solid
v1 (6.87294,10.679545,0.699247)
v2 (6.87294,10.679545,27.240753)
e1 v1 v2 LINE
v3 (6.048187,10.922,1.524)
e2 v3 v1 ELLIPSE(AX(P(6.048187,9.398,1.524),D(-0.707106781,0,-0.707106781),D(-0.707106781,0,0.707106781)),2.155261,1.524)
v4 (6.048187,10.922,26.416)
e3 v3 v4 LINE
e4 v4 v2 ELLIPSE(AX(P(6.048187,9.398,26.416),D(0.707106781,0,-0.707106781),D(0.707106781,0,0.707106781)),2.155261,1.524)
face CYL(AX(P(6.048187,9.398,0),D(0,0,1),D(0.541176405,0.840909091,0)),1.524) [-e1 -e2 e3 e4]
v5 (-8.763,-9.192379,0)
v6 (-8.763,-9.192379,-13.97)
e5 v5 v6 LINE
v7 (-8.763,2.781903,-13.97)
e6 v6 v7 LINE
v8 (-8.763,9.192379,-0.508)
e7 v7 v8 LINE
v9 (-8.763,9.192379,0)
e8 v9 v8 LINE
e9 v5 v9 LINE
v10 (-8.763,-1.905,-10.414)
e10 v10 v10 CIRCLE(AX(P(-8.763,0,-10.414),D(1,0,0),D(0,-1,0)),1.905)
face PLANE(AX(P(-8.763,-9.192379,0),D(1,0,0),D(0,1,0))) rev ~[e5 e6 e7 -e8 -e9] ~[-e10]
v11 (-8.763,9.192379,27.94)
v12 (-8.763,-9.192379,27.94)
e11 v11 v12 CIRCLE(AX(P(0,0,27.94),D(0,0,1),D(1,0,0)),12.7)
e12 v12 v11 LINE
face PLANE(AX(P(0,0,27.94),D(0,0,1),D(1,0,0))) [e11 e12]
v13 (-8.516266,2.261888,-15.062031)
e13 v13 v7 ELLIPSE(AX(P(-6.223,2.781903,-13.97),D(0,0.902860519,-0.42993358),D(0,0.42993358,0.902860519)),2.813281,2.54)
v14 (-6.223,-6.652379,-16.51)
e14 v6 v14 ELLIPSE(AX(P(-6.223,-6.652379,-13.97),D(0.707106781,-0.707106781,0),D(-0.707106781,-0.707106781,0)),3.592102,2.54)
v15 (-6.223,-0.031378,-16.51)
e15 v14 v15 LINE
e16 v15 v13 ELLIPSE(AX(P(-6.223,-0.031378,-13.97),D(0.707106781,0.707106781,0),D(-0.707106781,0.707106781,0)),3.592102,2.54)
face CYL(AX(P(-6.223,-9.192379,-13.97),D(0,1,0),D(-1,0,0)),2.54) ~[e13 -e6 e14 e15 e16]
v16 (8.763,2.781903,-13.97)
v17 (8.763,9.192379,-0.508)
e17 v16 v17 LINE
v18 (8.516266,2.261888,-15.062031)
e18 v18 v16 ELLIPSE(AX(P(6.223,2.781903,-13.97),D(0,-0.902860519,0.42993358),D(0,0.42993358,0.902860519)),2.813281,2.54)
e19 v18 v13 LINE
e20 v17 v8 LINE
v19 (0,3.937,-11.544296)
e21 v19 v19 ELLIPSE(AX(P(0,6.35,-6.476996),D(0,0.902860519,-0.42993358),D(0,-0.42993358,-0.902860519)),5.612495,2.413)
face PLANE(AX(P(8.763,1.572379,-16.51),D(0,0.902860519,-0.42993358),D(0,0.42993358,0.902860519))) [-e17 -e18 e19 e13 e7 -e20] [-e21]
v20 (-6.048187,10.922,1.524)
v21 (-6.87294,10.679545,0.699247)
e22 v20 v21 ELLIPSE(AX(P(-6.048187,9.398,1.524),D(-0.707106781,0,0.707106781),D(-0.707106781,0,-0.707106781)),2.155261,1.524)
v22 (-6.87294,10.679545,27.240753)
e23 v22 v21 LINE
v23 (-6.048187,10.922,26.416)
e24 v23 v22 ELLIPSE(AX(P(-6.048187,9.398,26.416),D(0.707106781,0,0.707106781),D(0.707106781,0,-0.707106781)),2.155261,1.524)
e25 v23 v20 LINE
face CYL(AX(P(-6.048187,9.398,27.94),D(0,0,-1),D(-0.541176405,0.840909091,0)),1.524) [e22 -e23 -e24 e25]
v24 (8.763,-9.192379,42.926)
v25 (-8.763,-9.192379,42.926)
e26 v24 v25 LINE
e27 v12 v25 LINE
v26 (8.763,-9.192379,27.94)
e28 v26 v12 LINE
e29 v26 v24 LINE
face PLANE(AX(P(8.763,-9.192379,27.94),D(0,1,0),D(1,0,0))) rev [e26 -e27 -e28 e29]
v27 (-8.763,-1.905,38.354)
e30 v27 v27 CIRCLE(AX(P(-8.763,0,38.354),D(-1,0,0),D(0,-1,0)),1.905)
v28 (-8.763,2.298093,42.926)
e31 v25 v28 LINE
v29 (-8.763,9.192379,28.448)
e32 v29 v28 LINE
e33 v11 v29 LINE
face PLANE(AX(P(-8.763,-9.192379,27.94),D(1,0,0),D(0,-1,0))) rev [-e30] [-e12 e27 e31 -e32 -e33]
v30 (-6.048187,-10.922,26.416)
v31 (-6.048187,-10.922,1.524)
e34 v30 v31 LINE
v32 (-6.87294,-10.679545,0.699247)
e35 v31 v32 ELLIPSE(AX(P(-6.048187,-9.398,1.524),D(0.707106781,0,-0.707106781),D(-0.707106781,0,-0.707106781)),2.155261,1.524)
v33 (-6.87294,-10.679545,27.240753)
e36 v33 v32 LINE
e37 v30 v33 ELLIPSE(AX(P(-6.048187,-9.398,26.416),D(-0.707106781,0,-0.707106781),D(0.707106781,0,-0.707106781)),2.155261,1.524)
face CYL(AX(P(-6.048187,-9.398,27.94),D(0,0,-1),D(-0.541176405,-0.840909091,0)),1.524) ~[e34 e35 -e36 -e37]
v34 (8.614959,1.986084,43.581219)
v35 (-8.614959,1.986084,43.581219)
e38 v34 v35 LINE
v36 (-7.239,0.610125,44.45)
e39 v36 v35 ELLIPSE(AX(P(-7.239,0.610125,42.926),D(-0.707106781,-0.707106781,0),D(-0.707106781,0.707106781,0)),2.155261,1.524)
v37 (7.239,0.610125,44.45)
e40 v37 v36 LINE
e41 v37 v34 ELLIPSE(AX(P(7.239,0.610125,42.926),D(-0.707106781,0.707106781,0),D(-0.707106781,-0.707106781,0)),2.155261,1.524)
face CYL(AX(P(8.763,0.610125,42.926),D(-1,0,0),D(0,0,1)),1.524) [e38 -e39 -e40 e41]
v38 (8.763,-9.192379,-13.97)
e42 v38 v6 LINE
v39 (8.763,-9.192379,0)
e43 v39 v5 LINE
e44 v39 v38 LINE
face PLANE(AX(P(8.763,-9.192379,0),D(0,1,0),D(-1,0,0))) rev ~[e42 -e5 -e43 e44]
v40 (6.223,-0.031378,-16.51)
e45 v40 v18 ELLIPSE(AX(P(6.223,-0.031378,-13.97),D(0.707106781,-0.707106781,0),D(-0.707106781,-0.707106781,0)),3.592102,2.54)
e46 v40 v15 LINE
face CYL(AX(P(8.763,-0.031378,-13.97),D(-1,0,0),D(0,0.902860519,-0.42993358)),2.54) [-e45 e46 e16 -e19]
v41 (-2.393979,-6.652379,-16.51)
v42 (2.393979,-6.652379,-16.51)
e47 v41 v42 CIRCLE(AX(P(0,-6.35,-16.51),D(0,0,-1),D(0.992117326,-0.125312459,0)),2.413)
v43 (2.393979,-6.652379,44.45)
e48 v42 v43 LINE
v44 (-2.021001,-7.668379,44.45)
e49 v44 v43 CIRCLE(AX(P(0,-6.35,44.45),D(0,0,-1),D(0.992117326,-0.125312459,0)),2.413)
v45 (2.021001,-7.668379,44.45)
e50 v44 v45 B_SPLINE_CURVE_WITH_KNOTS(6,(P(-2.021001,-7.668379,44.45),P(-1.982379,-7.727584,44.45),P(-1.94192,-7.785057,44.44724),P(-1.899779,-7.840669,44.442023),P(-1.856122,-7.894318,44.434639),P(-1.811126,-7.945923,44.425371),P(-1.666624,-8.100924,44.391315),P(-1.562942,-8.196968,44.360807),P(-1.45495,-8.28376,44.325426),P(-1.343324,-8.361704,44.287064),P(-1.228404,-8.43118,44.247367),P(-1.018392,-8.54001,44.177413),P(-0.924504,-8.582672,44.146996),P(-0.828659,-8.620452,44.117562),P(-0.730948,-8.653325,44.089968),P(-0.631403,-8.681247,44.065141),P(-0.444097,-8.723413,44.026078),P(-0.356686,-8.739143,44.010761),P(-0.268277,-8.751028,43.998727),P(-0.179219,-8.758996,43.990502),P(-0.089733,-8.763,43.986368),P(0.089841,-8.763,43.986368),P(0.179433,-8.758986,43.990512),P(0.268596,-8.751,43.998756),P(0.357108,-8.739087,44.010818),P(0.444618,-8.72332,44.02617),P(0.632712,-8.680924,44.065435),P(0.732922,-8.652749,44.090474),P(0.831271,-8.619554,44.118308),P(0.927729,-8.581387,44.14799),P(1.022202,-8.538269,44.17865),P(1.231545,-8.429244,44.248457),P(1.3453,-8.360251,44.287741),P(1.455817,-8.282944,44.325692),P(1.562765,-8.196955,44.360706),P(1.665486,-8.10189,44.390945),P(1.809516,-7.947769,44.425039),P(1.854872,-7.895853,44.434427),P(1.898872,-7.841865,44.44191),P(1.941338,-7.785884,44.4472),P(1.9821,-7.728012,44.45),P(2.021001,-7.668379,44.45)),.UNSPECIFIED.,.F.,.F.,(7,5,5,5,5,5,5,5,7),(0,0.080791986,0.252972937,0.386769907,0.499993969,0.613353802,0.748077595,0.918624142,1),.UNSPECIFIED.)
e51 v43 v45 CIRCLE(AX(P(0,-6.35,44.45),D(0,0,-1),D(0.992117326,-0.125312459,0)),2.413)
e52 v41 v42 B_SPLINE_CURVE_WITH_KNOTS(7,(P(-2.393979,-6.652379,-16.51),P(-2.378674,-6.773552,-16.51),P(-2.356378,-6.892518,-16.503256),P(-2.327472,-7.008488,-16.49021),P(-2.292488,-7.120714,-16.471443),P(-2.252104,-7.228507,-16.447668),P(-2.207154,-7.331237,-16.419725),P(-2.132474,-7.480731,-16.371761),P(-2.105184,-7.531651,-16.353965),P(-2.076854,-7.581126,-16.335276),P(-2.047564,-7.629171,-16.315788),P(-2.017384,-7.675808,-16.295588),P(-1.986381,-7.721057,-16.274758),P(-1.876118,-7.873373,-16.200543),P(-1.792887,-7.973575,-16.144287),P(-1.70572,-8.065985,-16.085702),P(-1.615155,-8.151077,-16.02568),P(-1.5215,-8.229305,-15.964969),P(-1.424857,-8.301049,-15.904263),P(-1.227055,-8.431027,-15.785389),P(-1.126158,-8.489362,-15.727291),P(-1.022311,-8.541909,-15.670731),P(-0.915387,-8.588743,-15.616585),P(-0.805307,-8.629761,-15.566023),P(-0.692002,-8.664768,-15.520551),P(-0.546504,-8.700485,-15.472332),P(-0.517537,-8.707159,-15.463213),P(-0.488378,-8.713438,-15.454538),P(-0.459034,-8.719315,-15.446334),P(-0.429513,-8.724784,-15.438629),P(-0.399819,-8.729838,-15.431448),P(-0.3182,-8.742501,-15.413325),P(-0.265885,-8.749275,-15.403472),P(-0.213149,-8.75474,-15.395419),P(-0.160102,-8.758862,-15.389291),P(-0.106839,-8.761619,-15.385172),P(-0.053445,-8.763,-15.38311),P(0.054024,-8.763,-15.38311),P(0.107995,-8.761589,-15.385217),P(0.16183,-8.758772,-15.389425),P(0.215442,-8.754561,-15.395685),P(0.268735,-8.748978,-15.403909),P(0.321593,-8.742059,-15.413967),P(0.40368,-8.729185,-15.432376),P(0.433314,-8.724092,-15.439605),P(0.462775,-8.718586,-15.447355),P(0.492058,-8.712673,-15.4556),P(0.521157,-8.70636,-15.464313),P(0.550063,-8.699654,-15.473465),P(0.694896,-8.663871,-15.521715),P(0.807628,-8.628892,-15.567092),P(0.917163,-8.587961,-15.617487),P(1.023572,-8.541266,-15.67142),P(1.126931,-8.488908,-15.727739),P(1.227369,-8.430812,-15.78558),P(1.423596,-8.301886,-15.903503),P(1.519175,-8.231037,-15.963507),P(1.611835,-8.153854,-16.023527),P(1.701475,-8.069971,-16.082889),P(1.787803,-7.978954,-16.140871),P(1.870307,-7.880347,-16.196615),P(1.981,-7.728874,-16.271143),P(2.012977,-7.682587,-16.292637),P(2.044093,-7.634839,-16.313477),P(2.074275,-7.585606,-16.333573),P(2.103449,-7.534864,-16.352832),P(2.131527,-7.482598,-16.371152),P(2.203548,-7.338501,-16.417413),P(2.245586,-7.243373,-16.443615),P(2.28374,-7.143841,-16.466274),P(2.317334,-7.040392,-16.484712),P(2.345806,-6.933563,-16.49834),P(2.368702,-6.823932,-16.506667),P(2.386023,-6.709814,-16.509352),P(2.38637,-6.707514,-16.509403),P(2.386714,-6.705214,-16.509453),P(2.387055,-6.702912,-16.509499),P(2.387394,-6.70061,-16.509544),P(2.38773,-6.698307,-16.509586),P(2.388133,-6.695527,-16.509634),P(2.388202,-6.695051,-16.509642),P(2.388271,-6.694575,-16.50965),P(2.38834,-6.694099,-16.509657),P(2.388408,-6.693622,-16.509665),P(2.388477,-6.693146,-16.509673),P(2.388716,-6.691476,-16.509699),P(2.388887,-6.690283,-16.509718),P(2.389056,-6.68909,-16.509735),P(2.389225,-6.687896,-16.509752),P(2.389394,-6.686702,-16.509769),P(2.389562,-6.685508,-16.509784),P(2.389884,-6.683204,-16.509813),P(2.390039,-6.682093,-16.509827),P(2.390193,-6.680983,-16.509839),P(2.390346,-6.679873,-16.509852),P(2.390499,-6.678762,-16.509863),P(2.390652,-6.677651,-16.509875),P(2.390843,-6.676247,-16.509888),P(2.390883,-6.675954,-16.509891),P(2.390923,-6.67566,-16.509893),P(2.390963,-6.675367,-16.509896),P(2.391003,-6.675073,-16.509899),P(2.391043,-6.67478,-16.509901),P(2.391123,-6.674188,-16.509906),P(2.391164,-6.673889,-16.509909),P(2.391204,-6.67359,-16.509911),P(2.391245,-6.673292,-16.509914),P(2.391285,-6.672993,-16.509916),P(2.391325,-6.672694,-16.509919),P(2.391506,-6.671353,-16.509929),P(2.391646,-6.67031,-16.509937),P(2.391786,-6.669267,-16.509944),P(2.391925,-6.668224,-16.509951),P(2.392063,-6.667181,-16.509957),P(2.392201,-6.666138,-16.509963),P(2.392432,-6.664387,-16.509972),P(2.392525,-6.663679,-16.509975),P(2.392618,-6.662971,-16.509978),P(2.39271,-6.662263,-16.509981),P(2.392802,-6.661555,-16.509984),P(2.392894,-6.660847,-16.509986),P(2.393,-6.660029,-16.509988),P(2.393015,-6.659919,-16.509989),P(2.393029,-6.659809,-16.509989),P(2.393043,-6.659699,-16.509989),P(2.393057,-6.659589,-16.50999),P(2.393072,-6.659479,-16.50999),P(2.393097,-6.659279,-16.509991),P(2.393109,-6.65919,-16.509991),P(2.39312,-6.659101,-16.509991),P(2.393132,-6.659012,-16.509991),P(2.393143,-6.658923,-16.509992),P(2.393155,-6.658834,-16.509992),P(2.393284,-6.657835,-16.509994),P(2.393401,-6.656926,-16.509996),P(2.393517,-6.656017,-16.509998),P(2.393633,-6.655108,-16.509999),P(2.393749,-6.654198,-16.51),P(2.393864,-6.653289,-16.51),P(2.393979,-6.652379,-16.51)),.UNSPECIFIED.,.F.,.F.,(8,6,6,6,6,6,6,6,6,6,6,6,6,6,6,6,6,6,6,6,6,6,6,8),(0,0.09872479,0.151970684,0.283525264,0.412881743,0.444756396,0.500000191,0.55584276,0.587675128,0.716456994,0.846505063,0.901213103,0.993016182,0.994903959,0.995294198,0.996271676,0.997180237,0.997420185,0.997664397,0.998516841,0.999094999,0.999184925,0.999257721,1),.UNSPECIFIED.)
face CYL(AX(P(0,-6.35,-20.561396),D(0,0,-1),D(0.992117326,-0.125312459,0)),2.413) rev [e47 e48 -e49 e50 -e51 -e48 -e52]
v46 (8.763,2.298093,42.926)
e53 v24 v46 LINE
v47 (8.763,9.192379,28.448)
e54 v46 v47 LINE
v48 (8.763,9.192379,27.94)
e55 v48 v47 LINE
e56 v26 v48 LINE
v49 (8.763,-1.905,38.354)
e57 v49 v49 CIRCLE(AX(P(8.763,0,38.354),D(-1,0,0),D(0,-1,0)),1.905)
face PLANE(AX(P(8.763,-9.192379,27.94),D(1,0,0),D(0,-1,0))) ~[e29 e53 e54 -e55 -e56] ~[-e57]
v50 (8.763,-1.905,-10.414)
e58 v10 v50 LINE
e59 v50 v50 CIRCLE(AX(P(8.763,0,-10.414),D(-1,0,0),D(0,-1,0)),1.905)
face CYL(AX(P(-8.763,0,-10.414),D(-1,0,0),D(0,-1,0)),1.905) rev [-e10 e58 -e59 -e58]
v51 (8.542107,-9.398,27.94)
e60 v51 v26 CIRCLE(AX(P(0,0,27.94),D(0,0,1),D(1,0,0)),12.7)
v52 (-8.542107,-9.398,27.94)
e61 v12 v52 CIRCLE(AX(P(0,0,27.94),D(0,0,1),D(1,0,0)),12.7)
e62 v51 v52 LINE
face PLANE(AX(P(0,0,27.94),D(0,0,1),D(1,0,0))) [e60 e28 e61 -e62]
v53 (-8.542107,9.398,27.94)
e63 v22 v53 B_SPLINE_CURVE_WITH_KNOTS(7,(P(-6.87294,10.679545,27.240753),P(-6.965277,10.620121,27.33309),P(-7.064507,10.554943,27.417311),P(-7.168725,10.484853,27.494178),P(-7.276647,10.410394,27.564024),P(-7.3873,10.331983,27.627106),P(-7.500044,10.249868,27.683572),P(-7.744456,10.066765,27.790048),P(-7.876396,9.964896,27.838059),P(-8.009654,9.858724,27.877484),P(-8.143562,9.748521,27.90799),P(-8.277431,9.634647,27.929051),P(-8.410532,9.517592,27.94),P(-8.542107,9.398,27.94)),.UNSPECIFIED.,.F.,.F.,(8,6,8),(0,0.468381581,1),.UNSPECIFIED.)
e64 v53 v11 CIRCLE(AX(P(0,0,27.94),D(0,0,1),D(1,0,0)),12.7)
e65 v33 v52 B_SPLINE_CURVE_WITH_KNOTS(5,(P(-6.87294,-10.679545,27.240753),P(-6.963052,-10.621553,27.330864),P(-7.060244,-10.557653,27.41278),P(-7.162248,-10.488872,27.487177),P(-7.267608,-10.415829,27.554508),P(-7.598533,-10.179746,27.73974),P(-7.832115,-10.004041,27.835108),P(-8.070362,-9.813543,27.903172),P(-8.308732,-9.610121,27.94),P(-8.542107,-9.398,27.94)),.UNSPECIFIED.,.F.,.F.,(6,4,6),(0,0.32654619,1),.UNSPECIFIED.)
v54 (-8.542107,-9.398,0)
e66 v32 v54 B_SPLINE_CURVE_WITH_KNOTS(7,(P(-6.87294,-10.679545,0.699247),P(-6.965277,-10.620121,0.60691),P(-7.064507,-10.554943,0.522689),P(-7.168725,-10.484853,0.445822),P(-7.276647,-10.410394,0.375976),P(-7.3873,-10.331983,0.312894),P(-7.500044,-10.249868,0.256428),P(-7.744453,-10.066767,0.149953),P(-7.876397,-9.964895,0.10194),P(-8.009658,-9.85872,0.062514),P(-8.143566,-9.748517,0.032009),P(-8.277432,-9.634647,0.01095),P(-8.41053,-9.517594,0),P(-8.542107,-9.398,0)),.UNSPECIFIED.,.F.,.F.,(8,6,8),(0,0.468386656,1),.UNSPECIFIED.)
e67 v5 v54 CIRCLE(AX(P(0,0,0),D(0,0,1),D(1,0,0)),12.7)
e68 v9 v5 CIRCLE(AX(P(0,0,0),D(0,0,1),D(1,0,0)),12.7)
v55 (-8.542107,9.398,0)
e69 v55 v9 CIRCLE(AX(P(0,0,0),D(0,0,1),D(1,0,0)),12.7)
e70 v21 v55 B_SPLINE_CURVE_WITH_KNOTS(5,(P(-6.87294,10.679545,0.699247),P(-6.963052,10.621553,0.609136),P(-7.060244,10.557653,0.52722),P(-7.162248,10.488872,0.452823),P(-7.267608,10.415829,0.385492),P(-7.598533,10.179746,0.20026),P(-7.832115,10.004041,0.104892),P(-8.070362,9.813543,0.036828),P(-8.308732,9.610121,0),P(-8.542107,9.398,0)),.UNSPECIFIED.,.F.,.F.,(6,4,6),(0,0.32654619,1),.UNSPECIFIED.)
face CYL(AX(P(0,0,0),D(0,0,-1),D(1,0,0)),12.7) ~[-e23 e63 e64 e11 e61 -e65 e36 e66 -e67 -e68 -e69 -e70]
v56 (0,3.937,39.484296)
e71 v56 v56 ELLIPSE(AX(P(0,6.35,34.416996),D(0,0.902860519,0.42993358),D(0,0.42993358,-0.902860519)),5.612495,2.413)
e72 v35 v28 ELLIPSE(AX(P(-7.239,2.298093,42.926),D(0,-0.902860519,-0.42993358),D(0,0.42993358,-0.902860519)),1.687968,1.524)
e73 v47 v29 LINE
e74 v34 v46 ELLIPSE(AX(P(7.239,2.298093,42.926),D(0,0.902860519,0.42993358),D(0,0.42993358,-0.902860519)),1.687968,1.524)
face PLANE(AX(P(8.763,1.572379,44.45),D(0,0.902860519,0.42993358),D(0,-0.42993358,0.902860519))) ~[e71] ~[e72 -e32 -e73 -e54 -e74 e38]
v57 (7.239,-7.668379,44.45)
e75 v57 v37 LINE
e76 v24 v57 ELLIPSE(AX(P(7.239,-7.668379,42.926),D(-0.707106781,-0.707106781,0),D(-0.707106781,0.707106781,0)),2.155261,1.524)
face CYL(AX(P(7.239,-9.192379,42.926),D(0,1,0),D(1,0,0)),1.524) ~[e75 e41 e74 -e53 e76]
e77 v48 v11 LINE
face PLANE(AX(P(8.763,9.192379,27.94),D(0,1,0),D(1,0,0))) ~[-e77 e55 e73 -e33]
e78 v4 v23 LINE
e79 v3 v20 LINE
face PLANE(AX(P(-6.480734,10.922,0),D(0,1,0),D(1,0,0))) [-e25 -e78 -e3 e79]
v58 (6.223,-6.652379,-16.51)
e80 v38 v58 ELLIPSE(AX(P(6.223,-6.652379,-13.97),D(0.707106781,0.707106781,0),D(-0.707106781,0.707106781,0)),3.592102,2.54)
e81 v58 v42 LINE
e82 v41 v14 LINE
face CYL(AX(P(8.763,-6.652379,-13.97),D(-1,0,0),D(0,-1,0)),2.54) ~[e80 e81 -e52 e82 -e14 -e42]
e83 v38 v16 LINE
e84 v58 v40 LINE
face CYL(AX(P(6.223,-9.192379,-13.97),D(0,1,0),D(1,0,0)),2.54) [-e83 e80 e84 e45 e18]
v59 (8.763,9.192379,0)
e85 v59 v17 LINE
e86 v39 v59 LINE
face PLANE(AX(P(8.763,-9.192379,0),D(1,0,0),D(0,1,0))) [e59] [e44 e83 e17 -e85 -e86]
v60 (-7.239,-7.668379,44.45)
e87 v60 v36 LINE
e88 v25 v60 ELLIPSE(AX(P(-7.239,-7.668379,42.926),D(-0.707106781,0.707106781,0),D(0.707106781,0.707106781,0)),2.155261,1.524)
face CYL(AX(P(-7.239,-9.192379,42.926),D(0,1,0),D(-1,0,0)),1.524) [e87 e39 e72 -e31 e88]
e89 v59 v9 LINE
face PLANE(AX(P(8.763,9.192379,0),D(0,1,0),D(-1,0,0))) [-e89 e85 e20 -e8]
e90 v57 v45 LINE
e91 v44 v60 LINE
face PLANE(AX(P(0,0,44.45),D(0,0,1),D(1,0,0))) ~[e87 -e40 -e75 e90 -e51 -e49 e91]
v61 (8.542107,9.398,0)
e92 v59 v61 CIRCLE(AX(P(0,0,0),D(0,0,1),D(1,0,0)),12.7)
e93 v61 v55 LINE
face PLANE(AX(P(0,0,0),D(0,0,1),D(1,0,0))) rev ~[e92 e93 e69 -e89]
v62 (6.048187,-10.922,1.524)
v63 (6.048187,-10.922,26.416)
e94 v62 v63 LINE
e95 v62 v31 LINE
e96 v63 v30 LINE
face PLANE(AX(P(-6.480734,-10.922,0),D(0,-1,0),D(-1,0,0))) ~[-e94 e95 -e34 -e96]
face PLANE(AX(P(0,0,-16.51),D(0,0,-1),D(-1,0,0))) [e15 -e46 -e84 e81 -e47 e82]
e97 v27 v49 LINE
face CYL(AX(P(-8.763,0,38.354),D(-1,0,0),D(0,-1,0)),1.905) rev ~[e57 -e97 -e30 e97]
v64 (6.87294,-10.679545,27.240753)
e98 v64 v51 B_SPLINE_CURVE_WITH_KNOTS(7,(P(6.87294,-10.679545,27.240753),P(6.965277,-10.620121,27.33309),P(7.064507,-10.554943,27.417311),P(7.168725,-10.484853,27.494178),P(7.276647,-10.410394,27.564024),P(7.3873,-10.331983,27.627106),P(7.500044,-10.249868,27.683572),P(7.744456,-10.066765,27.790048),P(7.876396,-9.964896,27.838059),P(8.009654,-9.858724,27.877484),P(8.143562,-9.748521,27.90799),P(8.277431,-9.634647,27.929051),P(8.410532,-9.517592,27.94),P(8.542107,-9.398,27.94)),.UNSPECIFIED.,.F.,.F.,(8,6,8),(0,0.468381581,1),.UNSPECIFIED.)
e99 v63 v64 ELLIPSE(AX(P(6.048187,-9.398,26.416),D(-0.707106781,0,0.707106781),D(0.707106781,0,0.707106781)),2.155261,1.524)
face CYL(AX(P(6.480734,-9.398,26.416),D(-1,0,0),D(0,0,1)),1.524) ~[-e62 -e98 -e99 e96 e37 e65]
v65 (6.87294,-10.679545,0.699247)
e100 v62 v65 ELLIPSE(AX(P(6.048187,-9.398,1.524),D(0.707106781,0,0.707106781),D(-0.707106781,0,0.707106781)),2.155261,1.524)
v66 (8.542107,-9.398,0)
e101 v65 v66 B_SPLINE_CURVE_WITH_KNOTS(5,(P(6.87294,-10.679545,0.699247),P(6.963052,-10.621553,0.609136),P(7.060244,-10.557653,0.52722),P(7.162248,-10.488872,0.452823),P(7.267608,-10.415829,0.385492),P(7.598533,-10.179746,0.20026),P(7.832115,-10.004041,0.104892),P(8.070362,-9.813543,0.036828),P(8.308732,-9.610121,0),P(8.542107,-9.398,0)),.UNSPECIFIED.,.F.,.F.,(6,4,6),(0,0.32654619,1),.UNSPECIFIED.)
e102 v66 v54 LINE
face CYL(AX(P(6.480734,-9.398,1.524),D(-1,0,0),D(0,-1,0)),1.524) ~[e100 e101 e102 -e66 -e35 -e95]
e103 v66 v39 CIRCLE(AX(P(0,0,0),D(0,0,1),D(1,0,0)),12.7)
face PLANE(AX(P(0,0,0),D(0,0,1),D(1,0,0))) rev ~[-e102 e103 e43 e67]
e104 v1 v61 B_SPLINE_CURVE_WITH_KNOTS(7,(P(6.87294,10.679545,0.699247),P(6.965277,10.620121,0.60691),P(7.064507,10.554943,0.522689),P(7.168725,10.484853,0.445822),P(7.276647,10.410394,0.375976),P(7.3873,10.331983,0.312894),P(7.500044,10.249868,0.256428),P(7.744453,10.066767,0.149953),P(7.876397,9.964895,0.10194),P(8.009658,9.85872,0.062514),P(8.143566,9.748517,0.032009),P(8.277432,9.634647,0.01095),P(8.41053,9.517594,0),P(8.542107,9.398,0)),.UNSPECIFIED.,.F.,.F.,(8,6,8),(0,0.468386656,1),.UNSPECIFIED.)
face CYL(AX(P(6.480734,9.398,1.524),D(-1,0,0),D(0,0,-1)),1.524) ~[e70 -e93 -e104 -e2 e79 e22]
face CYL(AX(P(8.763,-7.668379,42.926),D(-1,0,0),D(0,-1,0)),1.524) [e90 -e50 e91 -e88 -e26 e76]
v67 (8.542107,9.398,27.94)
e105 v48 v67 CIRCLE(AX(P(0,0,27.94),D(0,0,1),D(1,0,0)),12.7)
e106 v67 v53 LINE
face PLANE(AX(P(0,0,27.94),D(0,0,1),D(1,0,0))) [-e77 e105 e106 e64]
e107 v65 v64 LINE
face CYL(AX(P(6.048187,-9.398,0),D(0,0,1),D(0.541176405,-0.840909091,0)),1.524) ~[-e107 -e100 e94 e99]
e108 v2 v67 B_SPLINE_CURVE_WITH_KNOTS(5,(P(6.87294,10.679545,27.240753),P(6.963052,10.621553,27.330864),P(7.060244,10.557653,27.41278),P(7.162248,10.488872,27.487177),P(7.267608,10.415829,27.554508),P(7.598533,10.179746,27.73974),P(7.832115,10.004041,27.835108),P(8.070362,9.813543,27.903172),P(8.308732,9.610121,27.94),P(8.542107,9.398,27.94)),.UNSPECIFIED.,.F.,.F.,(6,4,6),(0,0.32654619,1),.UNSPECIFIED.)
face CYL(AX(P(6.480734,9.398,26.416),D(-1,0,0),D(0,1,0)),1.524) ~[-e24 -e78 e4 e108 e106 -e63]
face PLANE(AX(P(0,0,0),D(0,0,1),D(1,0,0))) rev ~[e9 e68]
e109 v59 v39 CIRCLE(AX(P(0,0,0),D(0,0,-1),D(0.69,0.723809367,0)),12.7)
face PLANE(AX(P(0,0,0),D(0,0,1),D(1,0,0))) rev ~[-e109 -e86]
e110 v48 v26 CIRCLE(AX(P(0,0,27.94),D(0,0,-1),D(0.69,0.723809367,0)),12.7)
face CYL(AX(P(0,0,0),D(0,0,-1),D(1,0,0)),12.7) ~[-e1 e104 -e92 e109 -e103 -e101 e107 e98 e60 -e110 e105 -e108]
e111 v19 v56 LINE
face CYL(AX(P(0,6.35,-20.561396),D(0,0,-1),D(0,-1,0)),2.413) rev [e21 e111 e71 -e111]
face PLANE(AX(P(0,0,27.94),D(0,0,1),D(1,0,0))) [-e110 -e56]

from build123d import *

# Parameters (mm, degrees)
SKETCH1_R               = 12.7
FINGERBODY_DEPTH        = 27.94
SKETCH2_W               = 17.526
SKETCH2_H               = 18.384757926
BOSS_EXTRUDE2_DEPTH     = 16.51
SKETCH4_R               = 1.905
CUT_EXTRUDE2_DEPTH      = 51.96815544
CUT_EXTRUDE3_DEPTH      = 51.96815544
FILLET2_R               = 2.54
CUT_EXTRUDE5_DEPTH      = 48.941448664
FILLET3_R               = 1.524
FILLET4_R               = 1.524
FILLET6_R               = 1.524
CUT_EXTRUDE6_DEPTH      = 48.50139565
CUT_EXTRUDE6_DEPTH_BACK = 48.50139565
SKETCH11_R              = 2.413


with BuildPart() as part:
    # Sketch1 → FingerBody (new body)
    with BuildSketch(Plane.XY):
        Circle(SKETCH1_R)
    extrude(amount=FINGERBODY_DEPTH)

    # Sketch2 → Boss-Extrude2 (add)
    with BuildSketch(Plane(origin=(0, 0, 0), x_dir=(-1, 0, 0), z_dir=(0, 0, -1))):
        Rectangle(SKETCH2_W, SKETCH2_H)
    boss_extrude2 = extrude(amount=BOSS_EXTRUDE2_DEPTH)

    # Mirror1: Boss-Extrude2 across plane
    add(boss_extrude2.mirror(Plane(origin=(0, 0, 13.97), x_dir=(1, 0, 0), z_dir=(0, 0, -1))))

    # Sketch4 → Cut-Extrude2 (cut, through all)
    with BuildSketch(Plane.ZY.offset(8.763)):
        with Locations(Location((38.354, 0, 0), (0, 0, 270))):
            Circle(SKETCH4_R)
    cut_extrude2 = extrude(amount=-CUT_EXTRUDE2_DEPTH, mode=Mode.SUBTRACT)

    # Mirror2: Cut-Extrude2 across plane
    add(cut_extrude2.mirror(Plane(origin=(0, 0, 13.97), x_dir=(1, 0, 0), z_dir=(0, 0, -1))), mode=Mode.SUBTRACT)

    # Sketch5 → Cut-Extrude3 (cut, through all)
    with BuildSketch(Plane(origin=(8.763, 0, 0), x_dir=(0, 0, -1), z_dir=(1, 0, 0))):
        Polygon((16.51, 1.572378963), (0.508, 9.192378963), (16.51, 9.192378963), align=None)
    cut_extrude3 = extrude(amount=-CUT_EXTRUDE3_DEPTH, mode=Mode.SUBTRACT)

    # Fillet2
    fillet2_edges = [part.edges().sort_by_distance(p)[0] for p in [
        (0, -9.192378963, -16.51),
        (8.763, -3.81, -16.51),
        (0, 1.572378963, -16.51),
        (-8.763, -3.81, -16.51),
    ]]
    fillet(fillet2_edges, radius=FILLET2_R)

    # Mirror6: Cut-Extrude3 across plane
    add(cut_extrude3.mirror(Plane(origin=(0, 0, 13.97), x_dir=(1, 0, 0), z_dir=(0, 0, -1))), mode=Mode.SUBTRACT)

    # Sketch8 → Cut-Extrude5 (cut, symmetric)
    with BuildSketch(Plane(origin=(0, 0, 0), x_dir=(-1, 0, 0), z_dir=(0, 0, -1))):
        with BuildLine():
            Line((6.480734218, 10.922), (-6.480734218, 10.922))
            ThreePointArc((-6.480734218, 10.922), (0, 12.7), (6.480734218, 10.922))
        make_face()
    cut_extrude5 = extrude(amount=CUT_EXTRUDE5_DEPTH, both=True, mode=Mode.SUBTRACT)

    # Mirror7: Cut-Extrude5 across plane
    add(cut_extrude5.mirror(Plane(origin=(0, 0, 0), x_dir=(0, 0, 1), z_dir=(0, -1, 0))), mode=Mode.SUBTRACT)

    # Fillet3
    fillet3_edges = [part.edges().sort_by_distance(p)[0] for p in [
        (6.480734218, 10.922, 13.97),
        (-6.480734218, 10.922, 13.97),
        (0, 10.922, 27.94),
        (0, 10.922, 0),
    ]]
    fillet(fillet3_edges, radius=FILLET3_R)

    # Fillet4
    fillet4_edges = [part.edges().sort_by_distance(p)[0] for p in [
        (6.480734218, -10.922, 13.97),
        (-6.480734218, -10.922, 13.97),
        (0, -10.922, 27.94),
        (0, -10.922, 0),
    ]]
    fillet(fillet4_edges, radius=FILLET4_R)

    # Fillet6
    fillet6_edges = [part.edges().sort_by_distance(p)[0] for p in [
        (-8.763, -3.81, 44.45),
        (0, -9.192378963, 44.45),
        (8.763, -3.81, 44.45),
        (0, 1.572378963, 44.45),
    ]]
    fillet(fillet6_edges, radius=FILLET6_R)

    # Sketch11 → Cut-Extrude6 (cut, two sides: drawn at the far end of the back side and taken through both)
    with BuildSketch(Plane.XY.offset(27.94).offset(-CUT_EXTRUDE6_DEPTH_BACK)):
        with Locations(Location((0, 6.35, 0), (0, 0, 270))):
            Circle(SKETCH11_R)
        with Locations(Location((0, -6.35, 0), (0, 0, 352.801199766))):
            Circle(SKETCH11_R)
    extrude(amount=CUT_EXTRUDE6_DEPTH + CUT_EXTRUDE6_DEPTH_BACK, mode=Mode.SUBTRACT)


solid = part.part
